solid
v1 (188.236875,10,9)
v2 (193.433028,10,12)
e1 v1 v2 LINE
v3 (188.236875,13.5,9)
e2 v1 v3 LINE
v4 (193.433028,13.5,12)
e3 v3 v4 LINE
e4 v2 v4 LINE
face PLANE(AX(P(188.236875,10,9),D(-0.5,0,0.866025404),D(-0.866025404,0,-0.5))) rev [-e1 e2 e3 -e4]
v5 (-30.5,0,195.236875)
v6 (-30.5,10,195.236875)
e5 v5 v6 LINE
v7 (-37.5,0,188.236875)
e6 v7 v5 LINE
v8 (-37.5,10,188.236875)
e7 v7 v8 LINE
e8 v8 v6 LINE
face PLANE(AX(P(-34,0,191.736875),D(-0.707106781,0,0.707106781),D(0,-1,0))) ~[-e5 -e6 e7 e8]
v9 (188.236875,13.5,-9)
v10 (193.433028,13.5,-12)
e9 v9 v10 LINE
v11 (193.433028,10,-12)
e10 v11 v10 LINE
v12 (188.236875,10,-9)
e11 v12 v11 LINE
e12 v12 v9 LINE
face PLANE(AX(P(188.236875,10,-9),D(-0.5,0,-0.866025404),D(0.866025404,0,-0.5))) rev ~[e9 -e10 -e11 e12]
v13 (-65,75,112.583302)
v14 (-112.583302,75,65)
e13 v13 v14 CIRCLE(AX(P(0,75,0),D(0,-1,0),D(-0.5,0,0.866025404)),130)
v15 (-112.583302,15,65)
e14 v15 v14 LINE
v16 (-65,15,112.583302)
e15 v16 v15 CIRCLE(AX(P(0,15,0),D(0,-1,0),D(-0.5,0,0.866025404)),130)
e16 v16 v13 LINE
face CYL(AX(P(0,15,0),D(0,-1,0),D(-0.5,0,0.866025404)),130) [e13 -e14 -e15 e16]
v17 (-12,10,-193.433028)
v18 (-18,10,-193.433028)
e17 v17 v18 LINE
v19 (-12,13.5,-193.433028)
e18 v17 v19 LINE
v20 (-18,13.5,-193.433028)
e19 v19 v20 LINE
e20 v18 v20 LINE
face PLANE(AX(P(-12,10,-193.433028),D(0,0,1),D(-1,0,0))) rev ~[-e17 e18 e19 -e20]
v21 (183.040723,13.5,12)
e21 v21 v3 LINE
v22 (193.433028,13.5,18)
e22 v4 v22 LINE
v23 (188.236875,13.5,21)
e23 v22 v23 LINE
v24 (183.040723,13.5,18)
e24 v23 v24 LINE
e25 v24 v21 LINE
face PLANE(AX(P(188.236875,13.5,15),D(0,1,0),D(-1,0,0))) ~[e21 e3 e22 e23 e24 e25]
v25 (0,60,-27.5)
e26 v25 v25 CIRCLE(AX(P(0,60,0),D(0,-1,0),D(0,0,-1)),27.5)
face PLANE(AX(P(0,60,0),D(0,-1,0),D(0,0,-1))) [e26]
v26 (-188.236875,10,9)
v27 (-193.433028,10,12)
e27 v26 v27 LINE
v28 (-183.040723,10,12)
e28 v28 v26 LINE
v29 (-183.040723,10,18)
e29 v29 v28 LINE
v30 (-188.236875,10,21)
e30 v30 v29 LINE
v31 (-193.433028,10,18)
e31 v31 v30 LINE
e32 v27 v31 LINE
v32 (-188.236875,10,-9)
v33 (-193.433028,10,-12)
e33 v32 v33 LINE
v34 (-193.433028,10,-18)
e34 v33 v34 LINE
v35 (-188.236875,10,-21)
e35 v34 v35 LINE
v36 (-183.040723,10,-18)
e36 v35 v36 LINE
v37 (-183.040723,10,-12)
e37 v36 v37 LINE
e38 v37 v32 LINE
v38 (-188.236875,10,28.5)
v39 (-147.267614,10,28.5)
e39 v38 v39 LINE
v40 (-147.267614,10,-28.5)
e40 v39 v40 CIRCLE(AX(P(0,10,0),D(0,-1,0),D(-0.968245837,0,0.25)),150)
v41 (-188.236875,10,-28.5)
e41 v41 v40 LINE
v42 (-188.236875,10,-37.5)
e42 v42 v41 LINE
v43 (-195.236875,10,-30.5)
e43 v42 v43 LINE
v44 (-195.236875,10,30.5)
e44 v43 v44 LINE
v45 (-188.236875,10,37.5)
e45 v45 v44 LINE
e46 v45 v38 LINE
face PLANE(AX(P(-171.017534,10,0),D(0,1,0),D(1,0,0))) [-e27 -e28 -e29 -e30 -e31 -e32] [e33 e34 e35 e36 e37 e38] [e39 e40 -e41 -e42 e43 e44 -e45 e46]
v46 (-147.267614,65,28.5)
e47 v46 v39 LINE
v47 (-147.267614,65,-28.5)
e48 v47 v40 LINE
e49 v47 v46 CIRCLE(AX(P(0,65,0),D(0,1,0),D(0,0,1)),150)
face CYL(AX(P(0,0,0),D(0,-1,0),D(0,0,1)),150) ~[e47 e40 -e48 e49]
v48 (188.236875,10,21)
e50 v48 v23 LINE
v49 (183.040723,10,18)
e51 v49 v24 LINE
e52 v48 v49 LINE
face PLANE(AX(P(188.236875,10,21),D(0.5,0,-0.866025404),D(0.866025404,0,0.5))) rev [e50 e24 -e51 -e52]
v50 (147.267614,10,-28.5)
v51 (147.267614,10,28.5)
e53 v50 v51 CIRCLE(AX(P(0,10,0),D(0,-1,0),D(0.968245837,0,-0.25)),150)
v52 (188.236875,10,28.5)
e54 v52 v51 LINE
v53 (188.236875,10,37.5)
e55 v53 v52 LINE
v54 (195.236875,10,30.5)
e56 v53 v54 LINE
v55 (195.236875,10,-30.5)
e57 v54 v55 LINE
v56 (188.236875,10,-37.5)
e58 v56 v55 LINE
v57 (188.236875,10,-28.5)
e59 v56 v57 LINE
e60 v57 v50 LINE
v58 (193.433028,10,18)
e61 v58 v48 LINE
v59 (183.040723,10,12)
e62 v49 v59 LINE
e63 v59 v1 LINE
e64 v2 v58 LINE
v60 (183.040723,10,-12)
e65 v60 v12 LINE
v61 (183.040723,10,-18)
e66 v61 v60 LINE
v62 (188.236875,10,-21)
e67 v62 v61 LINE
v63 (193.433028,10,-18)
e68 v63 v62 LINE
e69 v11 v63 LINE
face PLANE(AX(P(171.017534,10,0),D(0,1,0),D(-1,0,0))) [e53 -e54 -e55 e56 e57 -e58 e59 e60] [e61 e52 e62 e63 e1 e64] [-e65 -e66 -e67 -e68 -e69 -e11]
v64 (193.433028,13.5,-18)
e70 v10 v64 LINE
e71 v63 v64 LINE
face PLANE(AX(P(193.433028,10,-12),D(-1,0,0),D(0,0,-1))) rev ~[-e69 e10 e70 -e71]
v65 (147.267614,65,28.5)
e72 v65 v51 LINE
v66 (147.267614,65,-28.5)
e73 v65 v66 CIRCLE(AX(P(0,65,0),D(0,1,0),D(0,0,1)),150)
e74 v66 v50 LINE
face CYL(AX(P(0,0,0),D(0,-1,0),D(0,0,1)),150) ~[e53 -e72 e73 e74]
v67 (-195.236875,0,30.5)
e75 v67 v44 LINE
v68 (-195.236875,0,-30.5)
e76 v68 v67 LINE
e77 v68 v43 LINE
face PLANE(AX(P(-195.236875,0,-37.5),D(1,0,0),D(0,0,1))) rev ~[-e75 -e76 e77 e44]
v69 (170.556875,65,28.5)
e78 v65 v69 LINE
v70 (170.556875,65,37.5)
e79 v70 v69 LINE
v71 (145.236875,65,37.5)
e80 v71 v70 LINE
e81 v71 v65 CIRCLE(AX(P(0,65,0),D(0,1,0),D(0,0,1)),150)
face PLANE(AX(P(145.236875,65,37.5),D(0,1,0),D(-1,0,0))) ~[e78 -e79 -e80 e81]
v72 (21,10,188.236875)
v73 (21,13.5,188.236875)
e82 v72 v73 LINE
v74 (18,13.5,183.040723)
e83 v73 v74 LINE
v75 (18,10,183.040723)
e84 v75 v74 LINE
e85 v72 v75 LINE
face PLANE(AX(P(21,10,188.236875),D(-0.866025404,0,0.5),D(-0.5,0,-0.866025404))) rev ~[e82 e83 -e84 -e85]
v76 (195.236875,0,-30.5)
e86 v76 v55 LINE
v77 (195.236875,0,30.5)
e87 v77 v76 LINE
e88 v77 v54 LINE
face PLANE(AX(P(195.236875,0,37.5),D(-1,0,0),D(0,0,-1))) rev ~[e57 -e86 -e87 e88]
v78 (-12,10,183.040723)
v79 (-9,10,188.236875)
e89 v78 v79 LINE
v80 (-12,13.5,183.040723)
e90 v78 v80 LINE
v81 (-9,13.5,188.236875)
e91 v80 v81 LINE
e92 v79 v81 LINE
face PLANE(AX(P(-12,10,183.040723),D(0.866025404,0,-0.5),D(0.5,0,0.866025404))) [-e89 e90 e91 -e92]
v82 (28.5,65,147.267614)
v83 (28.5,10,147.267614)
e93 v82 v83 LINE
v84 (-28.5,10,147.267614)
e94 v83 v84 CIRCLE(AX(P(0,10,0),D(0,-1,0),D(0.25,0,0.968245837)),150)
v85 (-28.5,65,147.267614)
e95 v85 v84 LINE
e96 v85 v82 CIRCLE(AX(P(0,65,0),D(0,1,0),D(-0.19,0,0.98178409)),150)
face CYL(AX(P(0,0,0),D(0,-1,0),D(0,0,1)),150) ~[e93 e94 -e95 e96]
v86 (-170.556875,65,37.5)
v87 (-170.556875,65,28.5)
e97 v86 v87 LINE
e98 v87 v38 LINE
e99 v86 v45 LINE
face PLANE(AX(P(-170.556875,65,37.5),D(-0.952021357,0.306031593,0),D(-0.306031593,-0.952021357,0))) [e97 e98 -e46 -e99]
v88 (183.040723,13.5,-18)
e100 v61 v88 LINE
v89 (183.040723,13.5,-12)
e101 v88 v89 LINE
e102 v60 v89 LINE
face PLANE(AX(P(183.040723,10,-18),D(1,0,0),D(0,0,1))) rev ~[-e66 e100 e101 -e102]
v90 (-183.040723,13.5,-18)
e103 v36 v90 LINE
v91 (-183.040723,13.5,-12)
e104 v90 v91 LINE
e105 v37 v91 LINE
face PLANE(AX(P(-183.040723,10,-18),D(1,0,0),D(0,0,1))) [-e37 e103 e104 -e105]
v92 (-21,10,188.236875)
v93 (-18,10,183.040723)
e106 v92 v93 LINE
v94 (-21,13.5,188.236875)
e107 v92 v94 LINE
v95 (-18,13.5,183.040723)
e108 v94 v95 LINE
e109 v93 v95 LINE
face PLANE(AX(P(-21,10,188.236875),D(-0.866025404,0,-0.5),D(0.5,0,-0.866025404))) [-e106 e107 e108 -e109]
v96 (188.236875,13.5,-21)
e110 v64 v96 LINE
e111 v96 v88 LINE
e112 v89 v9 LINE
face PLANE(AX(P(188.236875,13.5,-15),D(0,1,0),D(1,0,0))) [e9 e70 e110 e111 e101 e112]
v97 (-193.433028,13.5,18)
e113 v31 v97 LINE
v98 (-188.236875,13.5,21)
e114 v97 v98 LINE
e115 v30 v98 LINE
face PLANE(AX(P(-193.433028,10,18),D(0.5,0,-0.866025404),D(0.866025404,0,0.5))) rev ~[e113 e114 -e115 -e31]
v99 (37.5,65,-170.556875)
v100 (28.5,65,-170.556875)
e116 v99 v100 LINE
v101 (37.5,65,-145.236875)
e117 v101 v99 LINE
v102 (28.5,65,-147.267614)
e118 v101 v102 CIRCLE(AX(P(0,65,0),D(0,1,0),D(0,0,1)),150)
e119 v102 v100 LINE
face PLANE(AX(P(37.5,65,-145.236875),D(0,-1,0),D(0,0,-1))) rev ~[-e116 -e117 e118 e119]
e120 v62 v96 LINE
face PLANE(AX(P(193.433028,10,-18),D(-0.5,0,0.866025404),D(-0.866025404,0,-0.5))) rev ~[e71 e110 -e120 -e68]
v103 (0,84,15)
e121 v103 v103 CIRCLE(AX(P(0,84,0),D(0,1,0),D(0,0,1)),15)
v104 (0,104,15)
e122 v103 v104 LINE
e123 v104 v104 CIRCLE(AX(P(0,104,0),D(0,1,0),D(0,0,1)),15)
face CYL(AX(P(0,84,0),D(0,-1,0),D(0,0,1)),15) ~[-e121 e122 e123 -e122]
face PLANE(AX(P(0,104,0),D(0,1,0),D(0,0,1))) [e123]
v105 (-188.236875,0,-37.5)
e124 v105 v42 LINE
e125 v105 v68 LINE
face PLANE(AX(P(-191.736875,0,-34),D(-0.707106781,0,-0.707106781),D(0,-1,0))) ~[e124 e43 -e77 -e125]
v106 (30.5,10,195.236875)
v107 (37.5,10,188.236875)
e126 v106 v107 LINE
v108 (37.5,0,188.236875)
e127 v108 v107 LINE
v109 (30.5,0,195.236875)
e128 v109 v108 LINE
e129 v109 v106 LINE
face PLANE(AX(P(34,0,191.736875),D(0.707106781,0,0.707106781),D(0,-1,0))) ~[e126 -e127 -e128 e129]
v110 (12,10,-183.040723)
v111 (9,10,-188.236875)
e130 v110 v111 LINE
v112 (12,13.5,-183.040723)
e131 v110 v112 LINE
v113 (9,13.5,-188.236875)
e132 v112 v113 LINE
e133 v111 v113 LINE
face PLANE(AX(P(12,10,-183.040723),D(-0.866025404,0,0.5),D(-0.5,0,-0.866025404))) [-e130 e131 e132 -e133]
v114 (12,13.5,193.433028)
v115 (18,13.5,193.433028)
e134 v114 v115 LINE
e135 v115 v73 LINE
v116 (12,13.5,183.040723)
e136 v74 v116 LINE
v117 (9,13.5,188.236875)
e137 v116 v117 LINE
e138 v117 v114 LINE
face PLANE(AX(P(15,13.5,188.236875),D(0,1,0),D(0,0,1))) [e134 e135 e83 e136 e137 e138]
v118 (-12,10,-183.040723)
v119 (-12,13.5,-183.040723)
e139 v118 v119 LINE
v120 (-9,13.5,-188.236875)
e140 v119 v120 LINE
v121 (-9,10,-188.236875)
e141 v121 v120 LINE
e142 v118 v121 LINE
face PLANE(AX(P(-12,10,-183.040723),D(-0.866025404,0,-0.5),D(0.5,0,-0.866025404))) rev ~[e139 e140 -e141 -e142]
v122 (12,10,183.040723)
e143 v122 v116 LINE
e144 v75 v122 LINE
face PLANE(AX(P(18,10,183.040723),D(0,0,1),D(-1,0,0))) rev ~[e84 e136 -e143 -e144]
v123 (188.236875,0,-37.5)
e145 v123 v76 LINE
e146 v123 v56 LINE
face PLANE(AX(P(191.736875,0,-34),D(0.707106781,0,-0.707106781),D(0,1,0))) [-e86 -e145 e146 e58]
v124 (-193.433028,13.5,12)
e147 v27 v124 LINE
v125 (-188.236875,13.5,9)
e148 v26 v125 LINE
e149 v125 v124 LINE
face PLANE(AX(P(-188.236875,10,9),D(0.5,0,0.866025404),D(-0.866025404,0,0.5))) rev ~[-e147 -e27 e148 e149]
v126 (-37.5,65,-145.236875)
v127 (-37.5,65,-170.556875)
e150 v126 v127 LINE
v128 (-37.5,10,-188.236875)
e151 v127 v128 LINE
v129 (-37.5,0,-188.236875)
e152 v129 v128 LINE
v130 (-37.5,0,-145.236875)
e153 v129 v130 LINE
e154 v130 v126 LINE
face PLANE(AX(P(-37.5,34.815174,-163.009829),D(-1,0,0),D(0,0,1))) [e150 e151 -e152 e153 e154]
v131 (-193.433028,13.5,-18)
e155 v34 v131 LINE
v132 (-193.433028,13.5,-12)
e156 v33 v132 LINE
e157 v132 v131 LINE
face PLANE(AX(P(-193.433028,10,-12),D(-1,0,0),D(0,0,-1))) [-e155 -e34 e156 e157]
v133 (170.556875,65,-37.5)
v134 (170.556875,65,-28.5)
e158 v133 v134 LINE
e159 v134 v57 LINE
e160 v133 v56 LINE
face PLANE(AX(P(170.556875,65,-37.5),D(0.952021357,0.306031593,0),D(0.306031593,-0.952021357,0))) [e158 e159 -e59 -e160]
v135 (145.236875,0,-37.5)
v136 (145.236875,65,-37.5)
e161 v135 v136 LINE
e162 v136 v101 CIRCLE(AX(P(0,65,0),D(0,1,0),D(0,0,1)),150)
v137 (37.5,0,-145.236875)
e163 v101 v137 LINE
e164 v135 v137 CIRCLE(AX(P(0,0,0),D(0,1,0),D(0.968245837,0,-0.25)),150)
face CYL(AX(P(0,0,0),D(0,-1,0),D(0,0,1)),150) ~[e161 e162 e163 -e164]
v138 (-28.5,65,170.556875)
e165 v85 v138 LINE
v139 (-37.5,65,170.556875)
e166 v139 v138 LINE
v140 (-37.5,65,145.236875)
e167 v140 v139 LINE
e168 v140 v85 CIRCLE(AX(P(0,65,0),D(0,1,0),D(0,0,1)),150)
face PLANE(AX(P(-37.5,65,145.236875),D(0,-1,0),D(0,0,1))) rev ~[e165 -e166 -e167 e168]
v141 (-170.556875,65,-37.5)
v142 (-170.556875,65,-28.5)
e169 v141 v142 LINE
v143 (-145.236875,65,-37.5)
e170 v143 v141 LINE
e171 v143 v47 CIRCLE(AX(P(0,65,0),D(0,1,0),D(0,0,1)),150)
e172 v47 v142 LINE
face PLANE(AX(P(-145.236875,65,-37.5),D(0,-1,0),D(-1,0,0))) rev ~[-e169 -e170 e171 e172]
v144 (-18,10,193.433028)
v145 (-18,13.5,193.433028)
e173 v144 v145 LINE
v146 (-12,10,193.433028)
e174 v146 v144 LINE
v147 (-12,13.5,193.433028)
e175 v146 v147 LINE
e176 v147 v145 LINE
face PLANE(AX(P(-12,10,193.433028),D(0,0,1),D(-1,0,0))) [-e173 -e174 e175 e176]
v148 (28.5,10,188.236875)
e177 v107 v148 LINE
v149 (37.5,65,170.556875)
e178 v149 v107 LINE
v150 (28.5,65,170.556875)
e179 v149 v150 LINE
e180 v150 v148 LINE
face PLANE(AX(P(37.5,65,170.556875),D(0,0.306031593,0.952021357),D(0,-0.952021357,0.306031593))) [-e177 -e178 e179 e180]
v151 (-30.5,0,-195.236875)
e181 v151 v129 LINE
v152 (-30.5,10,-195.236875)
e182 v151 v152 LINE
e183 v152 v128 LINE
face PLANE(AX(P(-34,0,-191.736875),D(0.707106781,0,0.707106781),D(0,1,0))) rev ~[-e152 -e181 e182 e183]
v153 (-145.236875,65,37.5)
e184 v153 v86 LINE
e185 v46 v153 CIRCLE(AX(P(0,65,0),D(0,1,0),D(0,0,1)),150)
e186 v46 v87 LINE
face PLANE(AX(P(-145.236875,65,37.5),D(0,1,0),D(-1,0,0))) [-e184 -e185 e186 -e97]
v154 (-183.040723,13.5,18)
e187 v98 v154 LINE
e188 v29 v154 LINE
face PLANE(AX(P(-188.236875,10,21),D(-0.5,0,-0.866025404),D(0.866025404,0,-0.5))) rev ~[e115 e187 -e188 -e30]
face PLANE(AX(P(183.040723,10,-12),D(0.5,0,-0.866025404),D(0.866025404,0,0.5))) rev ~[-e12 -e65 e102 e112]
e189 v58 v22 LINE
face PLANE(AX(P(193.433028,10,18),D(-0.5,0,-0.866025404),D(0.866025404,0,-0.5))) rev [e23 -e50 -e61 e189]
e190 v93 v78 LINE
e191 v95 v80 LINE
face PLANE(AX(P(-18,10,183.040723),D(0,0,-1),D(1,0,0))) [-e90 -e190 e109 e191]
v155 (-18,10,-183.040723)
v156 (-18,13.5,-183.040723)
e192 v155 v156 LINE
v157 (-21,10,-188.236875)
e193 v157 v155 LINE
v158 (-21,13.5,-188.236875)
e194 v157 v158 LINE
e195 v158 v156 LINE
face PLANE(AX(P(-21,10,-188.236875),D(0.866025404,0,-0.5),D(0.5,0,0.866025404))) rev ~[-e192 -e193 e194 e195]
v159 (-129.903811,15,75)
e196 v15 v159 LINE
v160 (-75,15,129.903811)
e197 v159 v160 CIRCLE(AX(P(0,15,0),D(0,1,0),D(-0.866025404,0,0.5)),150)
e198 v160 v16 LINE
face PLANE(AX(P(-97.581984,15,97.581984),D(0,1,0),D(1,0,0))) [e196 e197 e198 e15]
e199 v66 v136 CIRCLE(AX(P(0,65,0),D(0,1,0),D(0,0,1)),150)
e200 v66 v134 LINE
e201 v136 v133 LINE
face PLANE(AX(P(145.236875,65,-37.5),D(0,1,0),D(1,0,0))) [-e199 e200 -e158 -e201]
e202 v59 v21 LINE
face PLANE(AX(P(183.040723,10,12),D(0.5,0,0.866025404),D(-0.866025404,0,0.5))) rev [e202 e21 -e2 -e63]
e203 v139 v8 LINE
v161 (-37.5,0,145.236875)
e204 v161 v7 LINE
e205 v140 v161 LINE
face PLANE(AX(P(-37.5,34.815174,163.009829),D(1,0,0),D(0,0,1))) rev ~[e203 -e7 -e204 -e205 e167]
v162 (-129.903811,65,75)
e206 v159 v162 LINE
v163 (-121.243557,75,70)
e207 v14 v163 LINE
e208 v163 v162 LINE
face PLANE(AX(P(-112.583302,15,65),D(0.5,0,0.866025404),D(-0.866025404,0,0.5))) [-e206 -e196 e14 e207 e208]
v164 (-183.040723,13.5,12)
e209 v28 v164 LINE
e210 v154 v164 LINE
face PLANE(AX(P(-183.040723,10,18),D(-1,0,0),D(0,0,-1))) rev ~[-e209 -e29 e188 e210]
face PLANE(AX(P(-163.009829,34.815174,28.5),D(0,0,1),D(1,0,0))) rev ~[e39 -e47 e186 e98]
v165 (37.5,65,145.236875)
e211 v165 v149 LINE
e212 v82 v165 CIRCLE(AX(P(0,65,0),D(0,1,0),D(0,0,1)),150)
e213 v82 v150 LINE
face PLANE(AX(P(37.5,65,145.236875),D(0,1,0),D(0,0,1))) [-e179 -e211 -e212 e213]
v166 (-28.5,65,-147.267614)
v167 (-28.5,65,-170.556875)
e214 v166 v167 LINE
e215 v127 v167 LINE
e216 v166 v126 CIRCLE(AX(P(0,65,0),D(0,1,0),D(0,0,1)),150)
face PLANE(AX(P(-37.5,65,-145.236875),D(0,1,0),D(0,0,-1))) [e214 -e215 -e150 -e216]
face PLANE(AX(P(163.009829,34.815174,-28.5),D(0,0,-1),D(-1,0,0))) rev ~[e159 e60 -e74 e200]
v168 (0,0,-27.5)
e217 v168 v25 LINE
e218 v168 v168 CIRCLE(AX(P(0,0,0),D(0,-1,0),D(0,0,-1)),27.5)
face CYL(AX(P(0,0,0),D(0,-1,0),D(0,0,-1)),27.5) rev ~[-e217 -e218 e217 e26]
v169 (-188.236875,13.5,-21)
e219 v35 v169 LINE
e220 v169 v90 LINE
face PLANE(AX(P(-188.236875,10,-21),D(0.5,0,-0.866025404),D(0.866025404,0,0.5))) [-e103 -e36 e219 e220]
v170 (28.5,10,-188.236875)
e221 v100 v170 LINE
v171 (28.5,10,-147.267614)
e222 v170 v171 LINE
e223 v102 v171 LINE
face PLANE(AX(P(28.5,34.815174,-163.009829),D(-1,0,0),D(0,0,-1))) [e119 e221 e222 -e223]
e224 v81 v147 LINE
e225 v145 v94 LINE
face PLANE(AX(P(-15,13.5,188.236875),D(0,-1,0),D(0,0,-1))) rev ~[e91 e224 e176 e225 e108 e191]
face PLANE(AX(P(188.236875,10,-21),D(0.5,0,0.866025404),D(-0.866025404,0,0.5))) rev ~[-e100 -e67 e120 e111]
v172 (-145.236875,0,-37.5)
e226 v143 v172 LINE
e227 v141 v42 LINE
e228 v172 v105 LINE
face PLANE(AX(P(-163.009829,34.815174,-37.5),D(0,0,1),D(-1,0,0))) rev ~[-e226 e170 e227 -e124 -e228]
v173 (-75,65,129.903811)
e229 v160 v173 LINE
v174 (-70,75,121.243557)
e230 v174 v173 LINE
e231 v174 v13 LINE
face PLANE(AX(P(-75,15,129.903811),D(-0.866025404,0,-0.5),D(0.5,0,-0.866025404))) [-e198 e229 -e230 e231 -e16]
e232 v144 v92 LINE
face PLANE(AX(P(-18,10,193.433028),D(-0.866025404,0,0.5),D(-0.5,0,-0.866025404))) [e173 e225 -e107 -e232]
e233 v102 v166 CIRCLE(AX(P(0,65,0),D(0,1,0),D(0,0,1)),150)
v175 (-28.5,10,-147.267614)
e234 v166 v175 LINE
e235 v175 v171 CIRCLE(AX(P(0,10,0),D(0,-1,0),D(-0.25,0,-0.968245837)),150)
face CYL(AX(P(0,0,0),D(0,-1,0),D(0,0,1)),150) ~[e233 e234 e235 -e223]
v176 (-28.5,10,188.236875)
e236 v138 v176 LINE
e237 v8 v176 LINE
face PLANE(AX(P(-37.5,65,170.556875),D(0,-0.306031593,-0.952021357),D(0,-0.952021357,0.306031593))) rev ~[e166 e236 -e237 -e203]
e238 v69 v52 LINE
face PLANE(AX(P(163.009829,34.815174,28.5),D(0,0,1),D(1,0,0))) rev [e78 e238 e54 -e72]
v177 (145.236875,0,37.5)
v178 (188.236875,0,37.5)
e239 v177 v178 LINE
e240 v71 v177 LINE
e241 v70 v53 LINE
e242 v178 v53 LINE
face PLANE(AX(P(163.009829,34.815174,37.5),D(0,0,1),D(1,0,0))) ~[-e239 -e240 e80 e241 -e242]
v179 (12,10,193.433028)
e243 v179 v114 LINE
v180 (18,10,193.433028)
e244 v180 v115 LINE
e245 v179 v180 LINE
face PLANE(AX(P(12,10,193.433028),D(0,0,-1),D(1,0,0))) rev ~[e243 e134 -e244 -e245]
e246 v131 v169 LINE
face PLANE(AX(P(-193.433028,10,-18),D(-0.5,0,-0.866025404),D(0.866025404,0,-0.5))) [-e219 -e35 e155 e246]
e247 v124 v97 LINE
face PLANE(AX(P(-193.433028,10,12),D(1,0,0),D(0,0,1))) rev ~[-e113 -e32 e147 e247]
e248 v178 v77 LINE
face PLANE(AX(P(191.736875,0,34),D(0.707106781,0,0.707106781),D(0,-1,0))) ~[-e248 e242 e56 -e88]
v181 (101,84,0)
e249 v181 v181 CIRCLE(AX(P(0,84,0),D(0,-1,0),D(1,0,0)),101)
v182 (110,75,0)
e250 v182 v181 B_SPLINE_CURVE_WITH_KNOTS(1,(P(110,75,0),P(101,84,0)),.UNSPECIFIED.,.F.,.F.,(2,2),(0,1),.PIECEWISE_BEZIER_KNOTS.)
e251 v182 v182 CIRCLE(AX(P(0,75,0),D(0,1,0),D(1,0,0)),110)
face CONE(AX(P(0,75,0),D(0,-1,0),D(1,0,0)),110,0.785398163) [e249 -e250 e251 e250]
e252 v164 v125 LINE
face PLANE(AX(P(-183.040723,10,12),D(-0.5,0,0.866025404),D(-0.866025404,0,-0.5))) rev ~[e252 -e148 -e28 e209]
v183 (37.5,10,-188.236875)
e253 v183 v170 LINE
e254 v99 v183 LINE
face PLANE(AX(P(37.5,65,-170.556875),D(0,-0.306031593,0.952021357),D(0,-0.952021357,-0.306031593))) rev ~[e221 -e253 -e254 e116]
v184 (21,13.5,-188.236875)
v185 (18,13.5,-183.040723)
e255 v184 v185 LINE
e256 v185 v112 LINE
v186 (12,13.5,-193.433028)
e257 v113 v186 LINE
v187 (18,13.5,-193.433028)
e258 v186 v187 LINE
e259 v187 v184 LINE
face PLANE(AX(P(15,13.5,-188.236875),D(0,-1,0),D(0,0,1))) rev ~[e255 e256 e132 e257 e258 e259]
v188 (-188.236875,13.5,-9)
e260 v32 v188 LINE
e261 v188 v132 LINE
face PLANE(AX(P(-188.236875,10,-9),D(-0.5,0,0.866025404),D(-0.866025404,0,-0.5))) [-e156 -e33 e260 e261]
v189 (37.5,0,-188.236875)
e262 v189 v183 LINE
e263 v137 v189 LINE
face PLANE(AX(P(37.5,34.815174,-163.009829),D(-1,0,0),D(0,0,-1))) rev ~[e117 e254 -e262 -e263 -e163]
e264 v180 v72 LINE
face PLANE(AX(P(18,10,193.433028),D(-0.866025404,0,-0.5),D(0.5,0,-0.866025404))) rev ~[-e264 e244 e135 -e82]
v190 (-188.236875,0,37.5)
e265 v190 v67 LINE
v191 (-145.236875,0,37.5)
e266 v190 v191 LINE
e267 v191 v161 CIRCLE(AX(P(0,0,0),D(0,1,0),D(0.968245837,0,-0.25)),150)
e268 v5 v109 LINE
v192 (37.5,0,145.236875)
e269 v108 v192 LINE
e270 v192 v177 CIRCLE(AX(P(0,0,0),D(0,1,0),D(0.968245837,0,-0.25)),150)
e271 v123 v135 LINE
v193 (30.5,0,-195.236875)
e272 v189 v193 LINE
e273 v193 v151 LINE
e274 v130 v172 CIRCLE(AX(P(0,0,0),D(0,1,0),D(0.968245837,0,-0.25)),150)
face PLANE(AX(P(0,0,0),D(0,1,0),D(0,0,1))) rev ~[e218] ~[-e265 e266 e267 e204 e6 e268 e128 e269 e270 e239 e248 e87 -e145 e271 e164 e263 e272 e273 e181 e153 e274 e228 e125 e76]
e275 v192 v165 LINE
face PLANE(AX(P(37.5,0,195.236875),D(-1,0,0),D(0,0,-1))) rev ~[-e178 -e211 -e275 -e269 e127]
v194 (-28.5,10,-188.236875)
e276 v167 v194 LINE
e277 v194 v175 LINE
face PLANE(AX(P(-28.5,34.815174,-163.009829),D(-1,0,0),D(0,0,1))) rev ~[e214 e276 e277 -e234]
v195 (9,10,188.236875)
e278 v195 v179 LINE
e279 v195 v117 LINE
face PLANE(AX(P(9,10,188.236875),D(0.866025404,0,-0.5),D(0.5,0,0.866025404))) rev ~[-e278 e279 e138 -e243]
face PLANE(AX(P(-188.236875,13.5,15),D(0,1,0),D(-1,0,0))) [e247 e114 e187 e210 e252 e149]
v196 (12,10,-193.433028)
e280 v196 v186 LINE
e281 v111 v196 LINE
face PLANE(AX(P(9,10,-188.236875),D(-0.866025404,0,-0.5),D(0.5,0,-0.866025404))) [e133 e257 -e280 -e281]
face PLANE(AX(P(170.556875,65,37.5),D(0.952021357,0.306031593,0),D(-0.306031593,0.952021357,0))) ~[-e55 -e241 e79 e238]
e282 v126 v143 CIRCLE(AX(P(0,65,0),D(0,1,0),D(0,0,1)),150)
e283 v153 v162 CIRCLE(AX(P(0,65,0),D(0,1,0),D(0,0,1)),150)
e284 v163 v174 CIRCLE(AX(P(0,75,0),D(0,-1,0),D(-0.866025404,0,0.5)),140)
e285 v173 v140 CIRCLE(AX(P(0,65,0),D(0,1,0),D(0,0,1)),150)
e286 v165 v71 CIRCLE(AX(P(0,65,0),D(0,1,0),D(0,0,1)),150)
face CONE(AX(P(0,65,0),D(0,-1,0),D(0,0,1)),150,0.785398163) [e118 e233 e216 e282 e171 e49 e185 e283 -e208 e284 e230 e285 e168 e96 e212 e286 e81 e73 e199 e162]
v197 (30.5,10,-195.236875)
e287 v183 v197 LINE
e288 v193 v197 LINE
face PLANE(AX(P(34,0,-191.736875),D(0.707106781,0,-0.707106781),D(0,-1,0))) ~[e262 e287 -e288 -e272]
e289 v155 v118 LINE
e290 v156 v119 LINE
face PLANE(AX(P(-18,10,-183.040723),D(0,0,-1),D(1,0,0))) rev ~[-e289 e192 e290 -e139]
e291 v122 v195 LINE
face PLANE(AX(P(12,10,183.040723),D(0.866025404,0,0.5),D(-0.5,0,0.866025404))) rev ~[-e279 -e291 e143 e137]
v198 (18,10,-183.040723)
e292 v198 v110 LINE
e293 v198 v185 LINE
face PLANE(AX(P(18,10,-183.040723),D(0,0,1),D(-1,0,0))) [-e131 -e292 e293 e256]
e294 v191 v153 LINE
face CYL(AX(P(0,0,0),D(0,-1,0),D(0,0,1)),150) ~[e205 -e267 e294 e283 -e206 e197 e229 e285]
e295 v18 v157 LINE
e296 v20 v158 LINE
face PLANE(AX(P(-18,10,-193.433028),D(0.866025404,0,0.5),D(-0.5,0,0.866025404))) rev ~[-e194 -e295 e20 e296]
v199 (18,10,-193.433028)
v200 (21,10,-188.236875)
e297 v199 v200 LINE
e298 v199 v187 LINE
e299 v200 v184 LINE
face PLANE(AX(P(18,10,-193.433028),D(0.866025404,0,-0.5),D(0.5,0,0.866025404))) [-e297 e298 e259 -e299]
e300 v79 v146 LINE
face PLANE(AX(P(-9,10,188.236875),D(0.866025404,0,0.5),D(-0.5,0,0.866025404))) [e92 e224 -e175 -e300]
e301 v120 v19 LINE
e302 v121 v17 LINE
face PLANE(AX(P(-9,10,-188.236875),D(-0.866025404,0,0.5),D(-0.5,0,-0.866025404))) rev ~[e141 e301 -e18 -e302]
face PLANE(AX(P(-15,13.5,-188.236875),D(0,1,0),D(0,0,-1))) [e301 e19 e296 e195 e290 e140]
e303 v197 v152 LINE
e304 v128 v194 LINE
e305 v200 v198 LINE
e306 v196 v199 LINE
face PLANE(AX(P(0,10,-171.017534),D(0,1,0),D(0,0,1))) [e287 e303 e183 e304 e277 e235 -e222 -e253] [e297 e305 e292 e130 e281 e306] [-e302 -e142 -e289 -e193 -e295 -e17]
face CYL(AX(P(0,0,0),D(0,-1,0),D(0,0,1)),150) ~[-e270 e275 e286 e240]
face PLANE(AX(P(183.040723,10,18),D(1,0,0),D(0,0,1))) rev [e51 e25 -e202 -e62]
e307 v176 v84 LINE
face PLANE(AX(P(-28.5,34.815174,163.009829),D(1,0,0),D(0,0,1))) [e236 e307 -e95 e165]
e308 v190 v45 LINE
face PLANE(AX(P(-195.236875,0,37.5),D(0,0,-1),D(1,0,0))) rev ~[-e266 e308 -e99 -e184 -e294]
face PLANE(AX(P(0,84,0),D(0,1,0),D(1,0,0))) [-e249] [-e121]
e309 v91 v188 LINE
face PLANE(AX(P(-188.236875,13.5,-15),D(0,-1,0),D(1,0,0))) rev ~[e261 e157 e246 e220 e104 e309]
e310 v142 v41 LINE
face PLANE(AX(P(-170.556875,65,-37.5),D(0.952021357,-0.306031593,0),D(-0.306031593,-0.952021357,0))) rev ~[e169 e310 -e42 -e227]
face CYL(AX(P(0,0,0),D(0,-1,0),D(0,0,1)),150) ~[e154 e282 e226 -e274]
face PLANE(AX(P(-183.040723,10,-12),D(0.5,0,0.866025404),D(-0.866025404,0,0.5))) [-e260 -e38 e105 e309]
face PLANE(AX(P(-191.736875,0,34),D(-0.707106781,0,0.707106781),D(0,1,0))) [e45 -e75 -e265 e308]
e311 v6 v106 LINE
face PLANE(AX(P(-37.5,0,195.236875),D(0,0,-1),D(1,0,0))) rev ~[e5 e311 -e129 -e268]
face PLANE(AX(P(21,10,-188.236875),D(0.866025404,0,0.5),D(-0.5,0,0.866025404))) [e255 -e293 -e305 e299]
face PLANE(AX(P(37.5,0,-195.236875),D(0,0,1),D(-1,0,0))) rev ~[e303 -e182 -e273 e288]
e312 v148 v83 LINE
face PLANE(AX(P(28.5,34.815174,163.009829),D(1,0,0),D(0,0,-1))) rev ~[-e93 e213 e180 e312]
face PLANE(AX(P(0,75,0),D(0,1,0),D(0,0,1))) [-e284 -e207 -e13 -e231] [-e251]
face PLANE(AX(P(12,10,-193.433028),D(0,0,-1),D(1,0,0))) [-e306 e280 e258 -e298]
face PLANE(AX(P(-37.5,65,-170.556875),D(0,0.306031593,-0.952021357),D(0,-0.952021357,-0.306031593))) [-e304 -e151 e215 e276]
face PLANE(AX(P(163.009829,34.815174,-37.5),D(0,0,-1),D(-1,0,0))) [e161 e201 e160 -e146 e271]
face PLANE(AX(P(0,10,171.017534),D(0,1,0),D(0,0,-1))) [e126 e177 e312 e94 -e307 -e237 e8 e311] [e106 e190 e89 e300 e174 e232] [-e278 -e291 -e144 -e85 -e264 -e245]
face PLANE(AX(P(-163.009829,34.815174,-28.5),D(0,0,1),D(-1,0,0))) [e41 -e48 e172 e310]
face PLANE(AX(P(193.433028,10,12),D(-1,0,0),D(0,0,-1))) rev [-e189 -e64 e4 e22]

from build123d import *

# Parameters (mm, degrees)
SKETCH1_R                    = 150
BOSS_EXTRUDE1_DEPTH          = 75
CHAMFER1_SIZE                = 10
BOSS_EXTRUDE2_DEPTH          = 10
CHAMFER2_SIZE                = 7
BOSS_EXTRUDE3_DEPTH          = 9
BOSS_EXTRUDE4_DEPTH          = 3.5
CIRPATTERN1_COUNT            = 4
CIRPATTERN1_COPY_1_DEPTH     = 9
CIRPATTERN1_COPY_2_DEPTH     = 9
CIRPATTERN1_COPY_3_DEPTH     = 9
CIRPATTERN1_COPY_4_DEPTH     = 3.5
CIRPATTERN1_COPY_5_DEPTH     = 3.5
CIRPATTERN1_COPY_6_DEPTH     = 3.5
CHAMFER2_OF_CIRPATTERN1_SIZE = 7
SKETCH5_R                    = 110
BOSS_EXTRUDE5_DEPTH          = 9
BOSS_EXTRUDE5_TAPER          = 45
CUT_EXTRUDE1_START           = -60
CUT_EXTRUDE1_DEPTH           = 60
SKETCH7_R                    = 15
BOSS_EXTRUDE6_DEPTH          = 20
SKETCH8_R                    = 27.5
CUT_EXTRUDE2_DEPTH           = 60


with BuildPart() as part:
    # Sketch1 → Boss-Extrude1 (new body)
    with BuildSketch(Plane(origin=(0, 0, 0), x_dir=(1, 0, 0), z_dir=(0, 1, 0))):
        with Locations(Location((0, 0, 0), (0, 0, 270))):
            Circle(SKETCH1_R)
    extrude(amount=BOSS_EXTRUDE1_DEPTH)

    # Chamfer1
    chamfer1_edges = [part.edges().sort_by_distance(p)[0] for p in [
        (0, 75, -150),
    ]]
    chamfer(chamfer1_edges, length=CHAMFER1_SIZE)

    # Sketch2 → Boss-Extrude2 (add)
    with BuildSketch(Plane.XZ):
        with BuildLine():
            Line((145.236875483, 37.5), (195.236875483, 37.5))
            Line((195.236875483, 37.5), (195.236875483, -37.5))
            Line((195.236875483, -37.5), (145.236875483, -37.5))
            ThreePointArc((145.236875483, -37.5), (150, 0), (145.236875483, 37.5))
        make_face()
    boss_extrude2 = extrude(amount=-BOSS_EXTRUDE2_DEPTH)

    # Chamfer2
    chamfer2_edges = [part.edges().sort_by_distance(p)[0] for p in [
        (195.236875483, 5, 37.5),
        (195.236875483, 5, -37.5),
    ]]
    chamfer(chamfer2_edges, length=CHAMFER2_SIZE)

    # Sketch3 → Boss-Extrude3 (add)
    with BuildSketch(Plane(origin=(0, 0, -37.5), x_dir=(-1, 0, 0), z_dir=(0, 0, -1))):
        Polygon((-145.236875483, 10), (-145.236875483, 65), (-170.556875483, 65), (-188.236875483, 10), align=None)
    boss_extrude3 = extrude(amount=-BOSS_EXTRUDE3_DEPTH)

    # Sketch4 → Boss-Extrude4 (add)
    with BuildSketch(Plane(origin=(0, 10, 0), x_dir=(1, 0, 0), z_dir=(0, 1, 0))):
        Polygon((188.236875483, 21), (183.04072306, 18), (183.04072306, 12), (188.236875483, 9), (193.433027905, 12), (193.433027905, 18), align=None)
    boss_extrude4 = extrude(amount=BOSS_EXTRUDE4_DEPTH)

    # Mirror1: Boss-Extrude3, Boss-Extrude4 across plane
    add(boss_extrude3.mirror(Plane.XY))
    add(boss_extrude4.mirror(Plane.XY))

    # CirPattern1: Boss-Extrude2, Boss-Extrude3, Boss-Extrude4 ×4 about axis
    cirpattern1_axis = Axis((0, 0, 0), (0, 1, 0))
    add([boss_extrude2.rotate(cirpattern1_axis, i * 360 / CIRPATTERN1_COUNT) for i in range(1, CIRPATTERN1_COUNT)])
    add([boss_extrude3.rotate(cirpattern1_axis, i * 360 / CIRPATTERN1_COUNT) for i in range(1, CIRPATTERN1_COUNT)])
    add([boss_extrude4.rotate(cirpattern1_axis, i * 360 / CIRPATTERN1_COUNT) for i in range(1, CIRPATTERN1_COUNT)])

    # CirPattern1 copy 1 sketch → CirPattern1 copy 1 (add)
    with BuildSketch(Plane(origin=(37.5, 0, 0), x_dir=(0, 0, 1), z_dir=(1, 0, 0))):
        Polygon((-145.236875483, -10), (-145.236875483, -65), (-170.556875483, -65), (-188.236875483, -10), align=None)
    extrude(amount=-CIRPATTERN1_COPY_1_DEPTH)

    # CirPattern1 copy 2 sketch → CirPattern1 copy 2 (add)
    with BuildSketch(Plane(origin=(0, 0, -37.5), x_dir=(1, 0, 0), z_dir=(0, 0, -1))):
        Polygon((-145.236875483, -10), (-145.236875483, -65), (-170.556875483, -65), (-188.236875483, -10), align=None)
    extrude(amount=-CIRPATTERN1_COPY_2_DEPTH)

    # CirPattern1 copy 3 sketch → CirPattern1 copy 3 (add)
    with BuildSketch(Plane(origin=(-37.5, 0, 0), x_dir=(0, 0, -1), z_dir=(-1, 0, 0))):
        Polygon((-145.236875483, -10), (-145.236875483, -65), (-170.556875483, -65), (-188.236875483, -10), align=None)
    extrude(amount=-CIRPATTERN1_COPY_3_DEPTH)

    # CirPattern1 copy 4 sketch → CirPattern1 copy 4 (add)
    with BuildSketch(Plane(origin=(0, 10, 0), x_dir=(0, 0, -1), z_dir=(0, 1, 0))):
        Polygon((188.236875483, -21), (183.04072306, -18), (183.04072306, -12), (188.236875483, -9), (193.433027905, -12), (193.433027905, -18), align=None)
    extrude(amount=CIRPATTERN1_COPY_4_DEPTH)

    # CirPattern1 copy 5 sketch → CirPattern1 copy 5 (add)
    with BuildSketch(Plane(origin=(0, 10, 0), x_dir=(-1, 0, 0), z_dir=(0, 1, 0))):
        Polygon((188.236875483, -21), (183.04072306, -18), (183.04072306, -12), (188.236875483, -9), (193.433027905, -12), (193.433027905, -18), align=None)
    extrude(amount=CIRPATTERN1_COPY_5_DEPTH)

    # CirPattern1 copy 6 sketch → CirPattern1 copy 6 (add)
    with BuildSketch(Plane.ZX.offset(10)):
        Polygon((188.236875483, -21), (183.04072306, -18), (183.04072306, -12), (188.236875483, -9), (193.433027905, -12), (193.433027905, -18), align=None)
    extrude(amount=CIRPATTERN1_COPY_6_DEPTH)

    # Chamfer2 of CirPattern1
    chamfer2_of_cirpattern1_edges = [part.edges().sort_by_distance(p)[0] for p in [
        (37.5, 5, -195.236875483),
        (-37.5, 5, -195.236875483),
        (-195.236875483, 5, -37.5),
        (-195.236875483, 5, 37.5),
        (-37.5, 5, 195.236875483),
        (37.5, 5, 195.236875483),
    ]]
    chamfer(chamfer2_of_cirpattern1_edges, length=CHAMFER2_OF_CIRPATTERN1_SIZE)

    # Sketch5 → Boss-Extrude5 (add)
    with BuildSketch(Plane(origin=(0, 75, 0), x_dir=(1, 0, 0), z_dir=(0, 1, 0))):
        Circle(SKETCH5_R)
    extrude(amount=BOSS_EXTRUDE5_DEPTH, taper=BOSS_EXTRUDE5_TAPER)

    # Sketch6 → Cut-Extrude1 (cut)
    with BuildSketch(Plane(origin=(0, 75, 0), x_dir=(1, 0, 0), z_dir=(0, 1, 0)).offset(CUT_EXTRUDE1_START)):
        with BuildLine():
            Line((-112.583302492, -65), (-129.903810568, -75))
            ThreePointArc((-129.903810568, -75), (-106.066017178, -106.066017178), (-75, -129.903810568))
            Line((-75, -129.903810568), (-65, -112.583302492))
            ThreePointArc((-65, -112.583302492), (-91.923881554, -91.923881554), (-112.583302492, -65))
        make_face()
    extrude(amount=CUT_EXTRUDE1_DEPTH, mode=Mode.SUBTRACT)

    # Sketch7 → Boss-Extrude6 (add)
    with BuildSketch(Plane(origin=(0, 84, 0), x_dir=(1, 0, 0), z_dir=(0, 1, 0))):
        with Locations(Location((0, 0, 0), (0, 0, 270))):
            Circle(SKETCH7_R)
    extrude(amount=BOSS_EXTRUDE6_DEPTH)

    # Sketch8 → Cut-Extrude2 (cut)
    with BuildSketch(Plane.XZ):
        with Locations(Location((0, 0, 0), (0, 0, 270))):
            Circle(SKETCH8_R)
    extrude(amount=-CUT_EXTRUDE2_DEPTH, mode=Mode.SUBTRACT)


solid = part.part
